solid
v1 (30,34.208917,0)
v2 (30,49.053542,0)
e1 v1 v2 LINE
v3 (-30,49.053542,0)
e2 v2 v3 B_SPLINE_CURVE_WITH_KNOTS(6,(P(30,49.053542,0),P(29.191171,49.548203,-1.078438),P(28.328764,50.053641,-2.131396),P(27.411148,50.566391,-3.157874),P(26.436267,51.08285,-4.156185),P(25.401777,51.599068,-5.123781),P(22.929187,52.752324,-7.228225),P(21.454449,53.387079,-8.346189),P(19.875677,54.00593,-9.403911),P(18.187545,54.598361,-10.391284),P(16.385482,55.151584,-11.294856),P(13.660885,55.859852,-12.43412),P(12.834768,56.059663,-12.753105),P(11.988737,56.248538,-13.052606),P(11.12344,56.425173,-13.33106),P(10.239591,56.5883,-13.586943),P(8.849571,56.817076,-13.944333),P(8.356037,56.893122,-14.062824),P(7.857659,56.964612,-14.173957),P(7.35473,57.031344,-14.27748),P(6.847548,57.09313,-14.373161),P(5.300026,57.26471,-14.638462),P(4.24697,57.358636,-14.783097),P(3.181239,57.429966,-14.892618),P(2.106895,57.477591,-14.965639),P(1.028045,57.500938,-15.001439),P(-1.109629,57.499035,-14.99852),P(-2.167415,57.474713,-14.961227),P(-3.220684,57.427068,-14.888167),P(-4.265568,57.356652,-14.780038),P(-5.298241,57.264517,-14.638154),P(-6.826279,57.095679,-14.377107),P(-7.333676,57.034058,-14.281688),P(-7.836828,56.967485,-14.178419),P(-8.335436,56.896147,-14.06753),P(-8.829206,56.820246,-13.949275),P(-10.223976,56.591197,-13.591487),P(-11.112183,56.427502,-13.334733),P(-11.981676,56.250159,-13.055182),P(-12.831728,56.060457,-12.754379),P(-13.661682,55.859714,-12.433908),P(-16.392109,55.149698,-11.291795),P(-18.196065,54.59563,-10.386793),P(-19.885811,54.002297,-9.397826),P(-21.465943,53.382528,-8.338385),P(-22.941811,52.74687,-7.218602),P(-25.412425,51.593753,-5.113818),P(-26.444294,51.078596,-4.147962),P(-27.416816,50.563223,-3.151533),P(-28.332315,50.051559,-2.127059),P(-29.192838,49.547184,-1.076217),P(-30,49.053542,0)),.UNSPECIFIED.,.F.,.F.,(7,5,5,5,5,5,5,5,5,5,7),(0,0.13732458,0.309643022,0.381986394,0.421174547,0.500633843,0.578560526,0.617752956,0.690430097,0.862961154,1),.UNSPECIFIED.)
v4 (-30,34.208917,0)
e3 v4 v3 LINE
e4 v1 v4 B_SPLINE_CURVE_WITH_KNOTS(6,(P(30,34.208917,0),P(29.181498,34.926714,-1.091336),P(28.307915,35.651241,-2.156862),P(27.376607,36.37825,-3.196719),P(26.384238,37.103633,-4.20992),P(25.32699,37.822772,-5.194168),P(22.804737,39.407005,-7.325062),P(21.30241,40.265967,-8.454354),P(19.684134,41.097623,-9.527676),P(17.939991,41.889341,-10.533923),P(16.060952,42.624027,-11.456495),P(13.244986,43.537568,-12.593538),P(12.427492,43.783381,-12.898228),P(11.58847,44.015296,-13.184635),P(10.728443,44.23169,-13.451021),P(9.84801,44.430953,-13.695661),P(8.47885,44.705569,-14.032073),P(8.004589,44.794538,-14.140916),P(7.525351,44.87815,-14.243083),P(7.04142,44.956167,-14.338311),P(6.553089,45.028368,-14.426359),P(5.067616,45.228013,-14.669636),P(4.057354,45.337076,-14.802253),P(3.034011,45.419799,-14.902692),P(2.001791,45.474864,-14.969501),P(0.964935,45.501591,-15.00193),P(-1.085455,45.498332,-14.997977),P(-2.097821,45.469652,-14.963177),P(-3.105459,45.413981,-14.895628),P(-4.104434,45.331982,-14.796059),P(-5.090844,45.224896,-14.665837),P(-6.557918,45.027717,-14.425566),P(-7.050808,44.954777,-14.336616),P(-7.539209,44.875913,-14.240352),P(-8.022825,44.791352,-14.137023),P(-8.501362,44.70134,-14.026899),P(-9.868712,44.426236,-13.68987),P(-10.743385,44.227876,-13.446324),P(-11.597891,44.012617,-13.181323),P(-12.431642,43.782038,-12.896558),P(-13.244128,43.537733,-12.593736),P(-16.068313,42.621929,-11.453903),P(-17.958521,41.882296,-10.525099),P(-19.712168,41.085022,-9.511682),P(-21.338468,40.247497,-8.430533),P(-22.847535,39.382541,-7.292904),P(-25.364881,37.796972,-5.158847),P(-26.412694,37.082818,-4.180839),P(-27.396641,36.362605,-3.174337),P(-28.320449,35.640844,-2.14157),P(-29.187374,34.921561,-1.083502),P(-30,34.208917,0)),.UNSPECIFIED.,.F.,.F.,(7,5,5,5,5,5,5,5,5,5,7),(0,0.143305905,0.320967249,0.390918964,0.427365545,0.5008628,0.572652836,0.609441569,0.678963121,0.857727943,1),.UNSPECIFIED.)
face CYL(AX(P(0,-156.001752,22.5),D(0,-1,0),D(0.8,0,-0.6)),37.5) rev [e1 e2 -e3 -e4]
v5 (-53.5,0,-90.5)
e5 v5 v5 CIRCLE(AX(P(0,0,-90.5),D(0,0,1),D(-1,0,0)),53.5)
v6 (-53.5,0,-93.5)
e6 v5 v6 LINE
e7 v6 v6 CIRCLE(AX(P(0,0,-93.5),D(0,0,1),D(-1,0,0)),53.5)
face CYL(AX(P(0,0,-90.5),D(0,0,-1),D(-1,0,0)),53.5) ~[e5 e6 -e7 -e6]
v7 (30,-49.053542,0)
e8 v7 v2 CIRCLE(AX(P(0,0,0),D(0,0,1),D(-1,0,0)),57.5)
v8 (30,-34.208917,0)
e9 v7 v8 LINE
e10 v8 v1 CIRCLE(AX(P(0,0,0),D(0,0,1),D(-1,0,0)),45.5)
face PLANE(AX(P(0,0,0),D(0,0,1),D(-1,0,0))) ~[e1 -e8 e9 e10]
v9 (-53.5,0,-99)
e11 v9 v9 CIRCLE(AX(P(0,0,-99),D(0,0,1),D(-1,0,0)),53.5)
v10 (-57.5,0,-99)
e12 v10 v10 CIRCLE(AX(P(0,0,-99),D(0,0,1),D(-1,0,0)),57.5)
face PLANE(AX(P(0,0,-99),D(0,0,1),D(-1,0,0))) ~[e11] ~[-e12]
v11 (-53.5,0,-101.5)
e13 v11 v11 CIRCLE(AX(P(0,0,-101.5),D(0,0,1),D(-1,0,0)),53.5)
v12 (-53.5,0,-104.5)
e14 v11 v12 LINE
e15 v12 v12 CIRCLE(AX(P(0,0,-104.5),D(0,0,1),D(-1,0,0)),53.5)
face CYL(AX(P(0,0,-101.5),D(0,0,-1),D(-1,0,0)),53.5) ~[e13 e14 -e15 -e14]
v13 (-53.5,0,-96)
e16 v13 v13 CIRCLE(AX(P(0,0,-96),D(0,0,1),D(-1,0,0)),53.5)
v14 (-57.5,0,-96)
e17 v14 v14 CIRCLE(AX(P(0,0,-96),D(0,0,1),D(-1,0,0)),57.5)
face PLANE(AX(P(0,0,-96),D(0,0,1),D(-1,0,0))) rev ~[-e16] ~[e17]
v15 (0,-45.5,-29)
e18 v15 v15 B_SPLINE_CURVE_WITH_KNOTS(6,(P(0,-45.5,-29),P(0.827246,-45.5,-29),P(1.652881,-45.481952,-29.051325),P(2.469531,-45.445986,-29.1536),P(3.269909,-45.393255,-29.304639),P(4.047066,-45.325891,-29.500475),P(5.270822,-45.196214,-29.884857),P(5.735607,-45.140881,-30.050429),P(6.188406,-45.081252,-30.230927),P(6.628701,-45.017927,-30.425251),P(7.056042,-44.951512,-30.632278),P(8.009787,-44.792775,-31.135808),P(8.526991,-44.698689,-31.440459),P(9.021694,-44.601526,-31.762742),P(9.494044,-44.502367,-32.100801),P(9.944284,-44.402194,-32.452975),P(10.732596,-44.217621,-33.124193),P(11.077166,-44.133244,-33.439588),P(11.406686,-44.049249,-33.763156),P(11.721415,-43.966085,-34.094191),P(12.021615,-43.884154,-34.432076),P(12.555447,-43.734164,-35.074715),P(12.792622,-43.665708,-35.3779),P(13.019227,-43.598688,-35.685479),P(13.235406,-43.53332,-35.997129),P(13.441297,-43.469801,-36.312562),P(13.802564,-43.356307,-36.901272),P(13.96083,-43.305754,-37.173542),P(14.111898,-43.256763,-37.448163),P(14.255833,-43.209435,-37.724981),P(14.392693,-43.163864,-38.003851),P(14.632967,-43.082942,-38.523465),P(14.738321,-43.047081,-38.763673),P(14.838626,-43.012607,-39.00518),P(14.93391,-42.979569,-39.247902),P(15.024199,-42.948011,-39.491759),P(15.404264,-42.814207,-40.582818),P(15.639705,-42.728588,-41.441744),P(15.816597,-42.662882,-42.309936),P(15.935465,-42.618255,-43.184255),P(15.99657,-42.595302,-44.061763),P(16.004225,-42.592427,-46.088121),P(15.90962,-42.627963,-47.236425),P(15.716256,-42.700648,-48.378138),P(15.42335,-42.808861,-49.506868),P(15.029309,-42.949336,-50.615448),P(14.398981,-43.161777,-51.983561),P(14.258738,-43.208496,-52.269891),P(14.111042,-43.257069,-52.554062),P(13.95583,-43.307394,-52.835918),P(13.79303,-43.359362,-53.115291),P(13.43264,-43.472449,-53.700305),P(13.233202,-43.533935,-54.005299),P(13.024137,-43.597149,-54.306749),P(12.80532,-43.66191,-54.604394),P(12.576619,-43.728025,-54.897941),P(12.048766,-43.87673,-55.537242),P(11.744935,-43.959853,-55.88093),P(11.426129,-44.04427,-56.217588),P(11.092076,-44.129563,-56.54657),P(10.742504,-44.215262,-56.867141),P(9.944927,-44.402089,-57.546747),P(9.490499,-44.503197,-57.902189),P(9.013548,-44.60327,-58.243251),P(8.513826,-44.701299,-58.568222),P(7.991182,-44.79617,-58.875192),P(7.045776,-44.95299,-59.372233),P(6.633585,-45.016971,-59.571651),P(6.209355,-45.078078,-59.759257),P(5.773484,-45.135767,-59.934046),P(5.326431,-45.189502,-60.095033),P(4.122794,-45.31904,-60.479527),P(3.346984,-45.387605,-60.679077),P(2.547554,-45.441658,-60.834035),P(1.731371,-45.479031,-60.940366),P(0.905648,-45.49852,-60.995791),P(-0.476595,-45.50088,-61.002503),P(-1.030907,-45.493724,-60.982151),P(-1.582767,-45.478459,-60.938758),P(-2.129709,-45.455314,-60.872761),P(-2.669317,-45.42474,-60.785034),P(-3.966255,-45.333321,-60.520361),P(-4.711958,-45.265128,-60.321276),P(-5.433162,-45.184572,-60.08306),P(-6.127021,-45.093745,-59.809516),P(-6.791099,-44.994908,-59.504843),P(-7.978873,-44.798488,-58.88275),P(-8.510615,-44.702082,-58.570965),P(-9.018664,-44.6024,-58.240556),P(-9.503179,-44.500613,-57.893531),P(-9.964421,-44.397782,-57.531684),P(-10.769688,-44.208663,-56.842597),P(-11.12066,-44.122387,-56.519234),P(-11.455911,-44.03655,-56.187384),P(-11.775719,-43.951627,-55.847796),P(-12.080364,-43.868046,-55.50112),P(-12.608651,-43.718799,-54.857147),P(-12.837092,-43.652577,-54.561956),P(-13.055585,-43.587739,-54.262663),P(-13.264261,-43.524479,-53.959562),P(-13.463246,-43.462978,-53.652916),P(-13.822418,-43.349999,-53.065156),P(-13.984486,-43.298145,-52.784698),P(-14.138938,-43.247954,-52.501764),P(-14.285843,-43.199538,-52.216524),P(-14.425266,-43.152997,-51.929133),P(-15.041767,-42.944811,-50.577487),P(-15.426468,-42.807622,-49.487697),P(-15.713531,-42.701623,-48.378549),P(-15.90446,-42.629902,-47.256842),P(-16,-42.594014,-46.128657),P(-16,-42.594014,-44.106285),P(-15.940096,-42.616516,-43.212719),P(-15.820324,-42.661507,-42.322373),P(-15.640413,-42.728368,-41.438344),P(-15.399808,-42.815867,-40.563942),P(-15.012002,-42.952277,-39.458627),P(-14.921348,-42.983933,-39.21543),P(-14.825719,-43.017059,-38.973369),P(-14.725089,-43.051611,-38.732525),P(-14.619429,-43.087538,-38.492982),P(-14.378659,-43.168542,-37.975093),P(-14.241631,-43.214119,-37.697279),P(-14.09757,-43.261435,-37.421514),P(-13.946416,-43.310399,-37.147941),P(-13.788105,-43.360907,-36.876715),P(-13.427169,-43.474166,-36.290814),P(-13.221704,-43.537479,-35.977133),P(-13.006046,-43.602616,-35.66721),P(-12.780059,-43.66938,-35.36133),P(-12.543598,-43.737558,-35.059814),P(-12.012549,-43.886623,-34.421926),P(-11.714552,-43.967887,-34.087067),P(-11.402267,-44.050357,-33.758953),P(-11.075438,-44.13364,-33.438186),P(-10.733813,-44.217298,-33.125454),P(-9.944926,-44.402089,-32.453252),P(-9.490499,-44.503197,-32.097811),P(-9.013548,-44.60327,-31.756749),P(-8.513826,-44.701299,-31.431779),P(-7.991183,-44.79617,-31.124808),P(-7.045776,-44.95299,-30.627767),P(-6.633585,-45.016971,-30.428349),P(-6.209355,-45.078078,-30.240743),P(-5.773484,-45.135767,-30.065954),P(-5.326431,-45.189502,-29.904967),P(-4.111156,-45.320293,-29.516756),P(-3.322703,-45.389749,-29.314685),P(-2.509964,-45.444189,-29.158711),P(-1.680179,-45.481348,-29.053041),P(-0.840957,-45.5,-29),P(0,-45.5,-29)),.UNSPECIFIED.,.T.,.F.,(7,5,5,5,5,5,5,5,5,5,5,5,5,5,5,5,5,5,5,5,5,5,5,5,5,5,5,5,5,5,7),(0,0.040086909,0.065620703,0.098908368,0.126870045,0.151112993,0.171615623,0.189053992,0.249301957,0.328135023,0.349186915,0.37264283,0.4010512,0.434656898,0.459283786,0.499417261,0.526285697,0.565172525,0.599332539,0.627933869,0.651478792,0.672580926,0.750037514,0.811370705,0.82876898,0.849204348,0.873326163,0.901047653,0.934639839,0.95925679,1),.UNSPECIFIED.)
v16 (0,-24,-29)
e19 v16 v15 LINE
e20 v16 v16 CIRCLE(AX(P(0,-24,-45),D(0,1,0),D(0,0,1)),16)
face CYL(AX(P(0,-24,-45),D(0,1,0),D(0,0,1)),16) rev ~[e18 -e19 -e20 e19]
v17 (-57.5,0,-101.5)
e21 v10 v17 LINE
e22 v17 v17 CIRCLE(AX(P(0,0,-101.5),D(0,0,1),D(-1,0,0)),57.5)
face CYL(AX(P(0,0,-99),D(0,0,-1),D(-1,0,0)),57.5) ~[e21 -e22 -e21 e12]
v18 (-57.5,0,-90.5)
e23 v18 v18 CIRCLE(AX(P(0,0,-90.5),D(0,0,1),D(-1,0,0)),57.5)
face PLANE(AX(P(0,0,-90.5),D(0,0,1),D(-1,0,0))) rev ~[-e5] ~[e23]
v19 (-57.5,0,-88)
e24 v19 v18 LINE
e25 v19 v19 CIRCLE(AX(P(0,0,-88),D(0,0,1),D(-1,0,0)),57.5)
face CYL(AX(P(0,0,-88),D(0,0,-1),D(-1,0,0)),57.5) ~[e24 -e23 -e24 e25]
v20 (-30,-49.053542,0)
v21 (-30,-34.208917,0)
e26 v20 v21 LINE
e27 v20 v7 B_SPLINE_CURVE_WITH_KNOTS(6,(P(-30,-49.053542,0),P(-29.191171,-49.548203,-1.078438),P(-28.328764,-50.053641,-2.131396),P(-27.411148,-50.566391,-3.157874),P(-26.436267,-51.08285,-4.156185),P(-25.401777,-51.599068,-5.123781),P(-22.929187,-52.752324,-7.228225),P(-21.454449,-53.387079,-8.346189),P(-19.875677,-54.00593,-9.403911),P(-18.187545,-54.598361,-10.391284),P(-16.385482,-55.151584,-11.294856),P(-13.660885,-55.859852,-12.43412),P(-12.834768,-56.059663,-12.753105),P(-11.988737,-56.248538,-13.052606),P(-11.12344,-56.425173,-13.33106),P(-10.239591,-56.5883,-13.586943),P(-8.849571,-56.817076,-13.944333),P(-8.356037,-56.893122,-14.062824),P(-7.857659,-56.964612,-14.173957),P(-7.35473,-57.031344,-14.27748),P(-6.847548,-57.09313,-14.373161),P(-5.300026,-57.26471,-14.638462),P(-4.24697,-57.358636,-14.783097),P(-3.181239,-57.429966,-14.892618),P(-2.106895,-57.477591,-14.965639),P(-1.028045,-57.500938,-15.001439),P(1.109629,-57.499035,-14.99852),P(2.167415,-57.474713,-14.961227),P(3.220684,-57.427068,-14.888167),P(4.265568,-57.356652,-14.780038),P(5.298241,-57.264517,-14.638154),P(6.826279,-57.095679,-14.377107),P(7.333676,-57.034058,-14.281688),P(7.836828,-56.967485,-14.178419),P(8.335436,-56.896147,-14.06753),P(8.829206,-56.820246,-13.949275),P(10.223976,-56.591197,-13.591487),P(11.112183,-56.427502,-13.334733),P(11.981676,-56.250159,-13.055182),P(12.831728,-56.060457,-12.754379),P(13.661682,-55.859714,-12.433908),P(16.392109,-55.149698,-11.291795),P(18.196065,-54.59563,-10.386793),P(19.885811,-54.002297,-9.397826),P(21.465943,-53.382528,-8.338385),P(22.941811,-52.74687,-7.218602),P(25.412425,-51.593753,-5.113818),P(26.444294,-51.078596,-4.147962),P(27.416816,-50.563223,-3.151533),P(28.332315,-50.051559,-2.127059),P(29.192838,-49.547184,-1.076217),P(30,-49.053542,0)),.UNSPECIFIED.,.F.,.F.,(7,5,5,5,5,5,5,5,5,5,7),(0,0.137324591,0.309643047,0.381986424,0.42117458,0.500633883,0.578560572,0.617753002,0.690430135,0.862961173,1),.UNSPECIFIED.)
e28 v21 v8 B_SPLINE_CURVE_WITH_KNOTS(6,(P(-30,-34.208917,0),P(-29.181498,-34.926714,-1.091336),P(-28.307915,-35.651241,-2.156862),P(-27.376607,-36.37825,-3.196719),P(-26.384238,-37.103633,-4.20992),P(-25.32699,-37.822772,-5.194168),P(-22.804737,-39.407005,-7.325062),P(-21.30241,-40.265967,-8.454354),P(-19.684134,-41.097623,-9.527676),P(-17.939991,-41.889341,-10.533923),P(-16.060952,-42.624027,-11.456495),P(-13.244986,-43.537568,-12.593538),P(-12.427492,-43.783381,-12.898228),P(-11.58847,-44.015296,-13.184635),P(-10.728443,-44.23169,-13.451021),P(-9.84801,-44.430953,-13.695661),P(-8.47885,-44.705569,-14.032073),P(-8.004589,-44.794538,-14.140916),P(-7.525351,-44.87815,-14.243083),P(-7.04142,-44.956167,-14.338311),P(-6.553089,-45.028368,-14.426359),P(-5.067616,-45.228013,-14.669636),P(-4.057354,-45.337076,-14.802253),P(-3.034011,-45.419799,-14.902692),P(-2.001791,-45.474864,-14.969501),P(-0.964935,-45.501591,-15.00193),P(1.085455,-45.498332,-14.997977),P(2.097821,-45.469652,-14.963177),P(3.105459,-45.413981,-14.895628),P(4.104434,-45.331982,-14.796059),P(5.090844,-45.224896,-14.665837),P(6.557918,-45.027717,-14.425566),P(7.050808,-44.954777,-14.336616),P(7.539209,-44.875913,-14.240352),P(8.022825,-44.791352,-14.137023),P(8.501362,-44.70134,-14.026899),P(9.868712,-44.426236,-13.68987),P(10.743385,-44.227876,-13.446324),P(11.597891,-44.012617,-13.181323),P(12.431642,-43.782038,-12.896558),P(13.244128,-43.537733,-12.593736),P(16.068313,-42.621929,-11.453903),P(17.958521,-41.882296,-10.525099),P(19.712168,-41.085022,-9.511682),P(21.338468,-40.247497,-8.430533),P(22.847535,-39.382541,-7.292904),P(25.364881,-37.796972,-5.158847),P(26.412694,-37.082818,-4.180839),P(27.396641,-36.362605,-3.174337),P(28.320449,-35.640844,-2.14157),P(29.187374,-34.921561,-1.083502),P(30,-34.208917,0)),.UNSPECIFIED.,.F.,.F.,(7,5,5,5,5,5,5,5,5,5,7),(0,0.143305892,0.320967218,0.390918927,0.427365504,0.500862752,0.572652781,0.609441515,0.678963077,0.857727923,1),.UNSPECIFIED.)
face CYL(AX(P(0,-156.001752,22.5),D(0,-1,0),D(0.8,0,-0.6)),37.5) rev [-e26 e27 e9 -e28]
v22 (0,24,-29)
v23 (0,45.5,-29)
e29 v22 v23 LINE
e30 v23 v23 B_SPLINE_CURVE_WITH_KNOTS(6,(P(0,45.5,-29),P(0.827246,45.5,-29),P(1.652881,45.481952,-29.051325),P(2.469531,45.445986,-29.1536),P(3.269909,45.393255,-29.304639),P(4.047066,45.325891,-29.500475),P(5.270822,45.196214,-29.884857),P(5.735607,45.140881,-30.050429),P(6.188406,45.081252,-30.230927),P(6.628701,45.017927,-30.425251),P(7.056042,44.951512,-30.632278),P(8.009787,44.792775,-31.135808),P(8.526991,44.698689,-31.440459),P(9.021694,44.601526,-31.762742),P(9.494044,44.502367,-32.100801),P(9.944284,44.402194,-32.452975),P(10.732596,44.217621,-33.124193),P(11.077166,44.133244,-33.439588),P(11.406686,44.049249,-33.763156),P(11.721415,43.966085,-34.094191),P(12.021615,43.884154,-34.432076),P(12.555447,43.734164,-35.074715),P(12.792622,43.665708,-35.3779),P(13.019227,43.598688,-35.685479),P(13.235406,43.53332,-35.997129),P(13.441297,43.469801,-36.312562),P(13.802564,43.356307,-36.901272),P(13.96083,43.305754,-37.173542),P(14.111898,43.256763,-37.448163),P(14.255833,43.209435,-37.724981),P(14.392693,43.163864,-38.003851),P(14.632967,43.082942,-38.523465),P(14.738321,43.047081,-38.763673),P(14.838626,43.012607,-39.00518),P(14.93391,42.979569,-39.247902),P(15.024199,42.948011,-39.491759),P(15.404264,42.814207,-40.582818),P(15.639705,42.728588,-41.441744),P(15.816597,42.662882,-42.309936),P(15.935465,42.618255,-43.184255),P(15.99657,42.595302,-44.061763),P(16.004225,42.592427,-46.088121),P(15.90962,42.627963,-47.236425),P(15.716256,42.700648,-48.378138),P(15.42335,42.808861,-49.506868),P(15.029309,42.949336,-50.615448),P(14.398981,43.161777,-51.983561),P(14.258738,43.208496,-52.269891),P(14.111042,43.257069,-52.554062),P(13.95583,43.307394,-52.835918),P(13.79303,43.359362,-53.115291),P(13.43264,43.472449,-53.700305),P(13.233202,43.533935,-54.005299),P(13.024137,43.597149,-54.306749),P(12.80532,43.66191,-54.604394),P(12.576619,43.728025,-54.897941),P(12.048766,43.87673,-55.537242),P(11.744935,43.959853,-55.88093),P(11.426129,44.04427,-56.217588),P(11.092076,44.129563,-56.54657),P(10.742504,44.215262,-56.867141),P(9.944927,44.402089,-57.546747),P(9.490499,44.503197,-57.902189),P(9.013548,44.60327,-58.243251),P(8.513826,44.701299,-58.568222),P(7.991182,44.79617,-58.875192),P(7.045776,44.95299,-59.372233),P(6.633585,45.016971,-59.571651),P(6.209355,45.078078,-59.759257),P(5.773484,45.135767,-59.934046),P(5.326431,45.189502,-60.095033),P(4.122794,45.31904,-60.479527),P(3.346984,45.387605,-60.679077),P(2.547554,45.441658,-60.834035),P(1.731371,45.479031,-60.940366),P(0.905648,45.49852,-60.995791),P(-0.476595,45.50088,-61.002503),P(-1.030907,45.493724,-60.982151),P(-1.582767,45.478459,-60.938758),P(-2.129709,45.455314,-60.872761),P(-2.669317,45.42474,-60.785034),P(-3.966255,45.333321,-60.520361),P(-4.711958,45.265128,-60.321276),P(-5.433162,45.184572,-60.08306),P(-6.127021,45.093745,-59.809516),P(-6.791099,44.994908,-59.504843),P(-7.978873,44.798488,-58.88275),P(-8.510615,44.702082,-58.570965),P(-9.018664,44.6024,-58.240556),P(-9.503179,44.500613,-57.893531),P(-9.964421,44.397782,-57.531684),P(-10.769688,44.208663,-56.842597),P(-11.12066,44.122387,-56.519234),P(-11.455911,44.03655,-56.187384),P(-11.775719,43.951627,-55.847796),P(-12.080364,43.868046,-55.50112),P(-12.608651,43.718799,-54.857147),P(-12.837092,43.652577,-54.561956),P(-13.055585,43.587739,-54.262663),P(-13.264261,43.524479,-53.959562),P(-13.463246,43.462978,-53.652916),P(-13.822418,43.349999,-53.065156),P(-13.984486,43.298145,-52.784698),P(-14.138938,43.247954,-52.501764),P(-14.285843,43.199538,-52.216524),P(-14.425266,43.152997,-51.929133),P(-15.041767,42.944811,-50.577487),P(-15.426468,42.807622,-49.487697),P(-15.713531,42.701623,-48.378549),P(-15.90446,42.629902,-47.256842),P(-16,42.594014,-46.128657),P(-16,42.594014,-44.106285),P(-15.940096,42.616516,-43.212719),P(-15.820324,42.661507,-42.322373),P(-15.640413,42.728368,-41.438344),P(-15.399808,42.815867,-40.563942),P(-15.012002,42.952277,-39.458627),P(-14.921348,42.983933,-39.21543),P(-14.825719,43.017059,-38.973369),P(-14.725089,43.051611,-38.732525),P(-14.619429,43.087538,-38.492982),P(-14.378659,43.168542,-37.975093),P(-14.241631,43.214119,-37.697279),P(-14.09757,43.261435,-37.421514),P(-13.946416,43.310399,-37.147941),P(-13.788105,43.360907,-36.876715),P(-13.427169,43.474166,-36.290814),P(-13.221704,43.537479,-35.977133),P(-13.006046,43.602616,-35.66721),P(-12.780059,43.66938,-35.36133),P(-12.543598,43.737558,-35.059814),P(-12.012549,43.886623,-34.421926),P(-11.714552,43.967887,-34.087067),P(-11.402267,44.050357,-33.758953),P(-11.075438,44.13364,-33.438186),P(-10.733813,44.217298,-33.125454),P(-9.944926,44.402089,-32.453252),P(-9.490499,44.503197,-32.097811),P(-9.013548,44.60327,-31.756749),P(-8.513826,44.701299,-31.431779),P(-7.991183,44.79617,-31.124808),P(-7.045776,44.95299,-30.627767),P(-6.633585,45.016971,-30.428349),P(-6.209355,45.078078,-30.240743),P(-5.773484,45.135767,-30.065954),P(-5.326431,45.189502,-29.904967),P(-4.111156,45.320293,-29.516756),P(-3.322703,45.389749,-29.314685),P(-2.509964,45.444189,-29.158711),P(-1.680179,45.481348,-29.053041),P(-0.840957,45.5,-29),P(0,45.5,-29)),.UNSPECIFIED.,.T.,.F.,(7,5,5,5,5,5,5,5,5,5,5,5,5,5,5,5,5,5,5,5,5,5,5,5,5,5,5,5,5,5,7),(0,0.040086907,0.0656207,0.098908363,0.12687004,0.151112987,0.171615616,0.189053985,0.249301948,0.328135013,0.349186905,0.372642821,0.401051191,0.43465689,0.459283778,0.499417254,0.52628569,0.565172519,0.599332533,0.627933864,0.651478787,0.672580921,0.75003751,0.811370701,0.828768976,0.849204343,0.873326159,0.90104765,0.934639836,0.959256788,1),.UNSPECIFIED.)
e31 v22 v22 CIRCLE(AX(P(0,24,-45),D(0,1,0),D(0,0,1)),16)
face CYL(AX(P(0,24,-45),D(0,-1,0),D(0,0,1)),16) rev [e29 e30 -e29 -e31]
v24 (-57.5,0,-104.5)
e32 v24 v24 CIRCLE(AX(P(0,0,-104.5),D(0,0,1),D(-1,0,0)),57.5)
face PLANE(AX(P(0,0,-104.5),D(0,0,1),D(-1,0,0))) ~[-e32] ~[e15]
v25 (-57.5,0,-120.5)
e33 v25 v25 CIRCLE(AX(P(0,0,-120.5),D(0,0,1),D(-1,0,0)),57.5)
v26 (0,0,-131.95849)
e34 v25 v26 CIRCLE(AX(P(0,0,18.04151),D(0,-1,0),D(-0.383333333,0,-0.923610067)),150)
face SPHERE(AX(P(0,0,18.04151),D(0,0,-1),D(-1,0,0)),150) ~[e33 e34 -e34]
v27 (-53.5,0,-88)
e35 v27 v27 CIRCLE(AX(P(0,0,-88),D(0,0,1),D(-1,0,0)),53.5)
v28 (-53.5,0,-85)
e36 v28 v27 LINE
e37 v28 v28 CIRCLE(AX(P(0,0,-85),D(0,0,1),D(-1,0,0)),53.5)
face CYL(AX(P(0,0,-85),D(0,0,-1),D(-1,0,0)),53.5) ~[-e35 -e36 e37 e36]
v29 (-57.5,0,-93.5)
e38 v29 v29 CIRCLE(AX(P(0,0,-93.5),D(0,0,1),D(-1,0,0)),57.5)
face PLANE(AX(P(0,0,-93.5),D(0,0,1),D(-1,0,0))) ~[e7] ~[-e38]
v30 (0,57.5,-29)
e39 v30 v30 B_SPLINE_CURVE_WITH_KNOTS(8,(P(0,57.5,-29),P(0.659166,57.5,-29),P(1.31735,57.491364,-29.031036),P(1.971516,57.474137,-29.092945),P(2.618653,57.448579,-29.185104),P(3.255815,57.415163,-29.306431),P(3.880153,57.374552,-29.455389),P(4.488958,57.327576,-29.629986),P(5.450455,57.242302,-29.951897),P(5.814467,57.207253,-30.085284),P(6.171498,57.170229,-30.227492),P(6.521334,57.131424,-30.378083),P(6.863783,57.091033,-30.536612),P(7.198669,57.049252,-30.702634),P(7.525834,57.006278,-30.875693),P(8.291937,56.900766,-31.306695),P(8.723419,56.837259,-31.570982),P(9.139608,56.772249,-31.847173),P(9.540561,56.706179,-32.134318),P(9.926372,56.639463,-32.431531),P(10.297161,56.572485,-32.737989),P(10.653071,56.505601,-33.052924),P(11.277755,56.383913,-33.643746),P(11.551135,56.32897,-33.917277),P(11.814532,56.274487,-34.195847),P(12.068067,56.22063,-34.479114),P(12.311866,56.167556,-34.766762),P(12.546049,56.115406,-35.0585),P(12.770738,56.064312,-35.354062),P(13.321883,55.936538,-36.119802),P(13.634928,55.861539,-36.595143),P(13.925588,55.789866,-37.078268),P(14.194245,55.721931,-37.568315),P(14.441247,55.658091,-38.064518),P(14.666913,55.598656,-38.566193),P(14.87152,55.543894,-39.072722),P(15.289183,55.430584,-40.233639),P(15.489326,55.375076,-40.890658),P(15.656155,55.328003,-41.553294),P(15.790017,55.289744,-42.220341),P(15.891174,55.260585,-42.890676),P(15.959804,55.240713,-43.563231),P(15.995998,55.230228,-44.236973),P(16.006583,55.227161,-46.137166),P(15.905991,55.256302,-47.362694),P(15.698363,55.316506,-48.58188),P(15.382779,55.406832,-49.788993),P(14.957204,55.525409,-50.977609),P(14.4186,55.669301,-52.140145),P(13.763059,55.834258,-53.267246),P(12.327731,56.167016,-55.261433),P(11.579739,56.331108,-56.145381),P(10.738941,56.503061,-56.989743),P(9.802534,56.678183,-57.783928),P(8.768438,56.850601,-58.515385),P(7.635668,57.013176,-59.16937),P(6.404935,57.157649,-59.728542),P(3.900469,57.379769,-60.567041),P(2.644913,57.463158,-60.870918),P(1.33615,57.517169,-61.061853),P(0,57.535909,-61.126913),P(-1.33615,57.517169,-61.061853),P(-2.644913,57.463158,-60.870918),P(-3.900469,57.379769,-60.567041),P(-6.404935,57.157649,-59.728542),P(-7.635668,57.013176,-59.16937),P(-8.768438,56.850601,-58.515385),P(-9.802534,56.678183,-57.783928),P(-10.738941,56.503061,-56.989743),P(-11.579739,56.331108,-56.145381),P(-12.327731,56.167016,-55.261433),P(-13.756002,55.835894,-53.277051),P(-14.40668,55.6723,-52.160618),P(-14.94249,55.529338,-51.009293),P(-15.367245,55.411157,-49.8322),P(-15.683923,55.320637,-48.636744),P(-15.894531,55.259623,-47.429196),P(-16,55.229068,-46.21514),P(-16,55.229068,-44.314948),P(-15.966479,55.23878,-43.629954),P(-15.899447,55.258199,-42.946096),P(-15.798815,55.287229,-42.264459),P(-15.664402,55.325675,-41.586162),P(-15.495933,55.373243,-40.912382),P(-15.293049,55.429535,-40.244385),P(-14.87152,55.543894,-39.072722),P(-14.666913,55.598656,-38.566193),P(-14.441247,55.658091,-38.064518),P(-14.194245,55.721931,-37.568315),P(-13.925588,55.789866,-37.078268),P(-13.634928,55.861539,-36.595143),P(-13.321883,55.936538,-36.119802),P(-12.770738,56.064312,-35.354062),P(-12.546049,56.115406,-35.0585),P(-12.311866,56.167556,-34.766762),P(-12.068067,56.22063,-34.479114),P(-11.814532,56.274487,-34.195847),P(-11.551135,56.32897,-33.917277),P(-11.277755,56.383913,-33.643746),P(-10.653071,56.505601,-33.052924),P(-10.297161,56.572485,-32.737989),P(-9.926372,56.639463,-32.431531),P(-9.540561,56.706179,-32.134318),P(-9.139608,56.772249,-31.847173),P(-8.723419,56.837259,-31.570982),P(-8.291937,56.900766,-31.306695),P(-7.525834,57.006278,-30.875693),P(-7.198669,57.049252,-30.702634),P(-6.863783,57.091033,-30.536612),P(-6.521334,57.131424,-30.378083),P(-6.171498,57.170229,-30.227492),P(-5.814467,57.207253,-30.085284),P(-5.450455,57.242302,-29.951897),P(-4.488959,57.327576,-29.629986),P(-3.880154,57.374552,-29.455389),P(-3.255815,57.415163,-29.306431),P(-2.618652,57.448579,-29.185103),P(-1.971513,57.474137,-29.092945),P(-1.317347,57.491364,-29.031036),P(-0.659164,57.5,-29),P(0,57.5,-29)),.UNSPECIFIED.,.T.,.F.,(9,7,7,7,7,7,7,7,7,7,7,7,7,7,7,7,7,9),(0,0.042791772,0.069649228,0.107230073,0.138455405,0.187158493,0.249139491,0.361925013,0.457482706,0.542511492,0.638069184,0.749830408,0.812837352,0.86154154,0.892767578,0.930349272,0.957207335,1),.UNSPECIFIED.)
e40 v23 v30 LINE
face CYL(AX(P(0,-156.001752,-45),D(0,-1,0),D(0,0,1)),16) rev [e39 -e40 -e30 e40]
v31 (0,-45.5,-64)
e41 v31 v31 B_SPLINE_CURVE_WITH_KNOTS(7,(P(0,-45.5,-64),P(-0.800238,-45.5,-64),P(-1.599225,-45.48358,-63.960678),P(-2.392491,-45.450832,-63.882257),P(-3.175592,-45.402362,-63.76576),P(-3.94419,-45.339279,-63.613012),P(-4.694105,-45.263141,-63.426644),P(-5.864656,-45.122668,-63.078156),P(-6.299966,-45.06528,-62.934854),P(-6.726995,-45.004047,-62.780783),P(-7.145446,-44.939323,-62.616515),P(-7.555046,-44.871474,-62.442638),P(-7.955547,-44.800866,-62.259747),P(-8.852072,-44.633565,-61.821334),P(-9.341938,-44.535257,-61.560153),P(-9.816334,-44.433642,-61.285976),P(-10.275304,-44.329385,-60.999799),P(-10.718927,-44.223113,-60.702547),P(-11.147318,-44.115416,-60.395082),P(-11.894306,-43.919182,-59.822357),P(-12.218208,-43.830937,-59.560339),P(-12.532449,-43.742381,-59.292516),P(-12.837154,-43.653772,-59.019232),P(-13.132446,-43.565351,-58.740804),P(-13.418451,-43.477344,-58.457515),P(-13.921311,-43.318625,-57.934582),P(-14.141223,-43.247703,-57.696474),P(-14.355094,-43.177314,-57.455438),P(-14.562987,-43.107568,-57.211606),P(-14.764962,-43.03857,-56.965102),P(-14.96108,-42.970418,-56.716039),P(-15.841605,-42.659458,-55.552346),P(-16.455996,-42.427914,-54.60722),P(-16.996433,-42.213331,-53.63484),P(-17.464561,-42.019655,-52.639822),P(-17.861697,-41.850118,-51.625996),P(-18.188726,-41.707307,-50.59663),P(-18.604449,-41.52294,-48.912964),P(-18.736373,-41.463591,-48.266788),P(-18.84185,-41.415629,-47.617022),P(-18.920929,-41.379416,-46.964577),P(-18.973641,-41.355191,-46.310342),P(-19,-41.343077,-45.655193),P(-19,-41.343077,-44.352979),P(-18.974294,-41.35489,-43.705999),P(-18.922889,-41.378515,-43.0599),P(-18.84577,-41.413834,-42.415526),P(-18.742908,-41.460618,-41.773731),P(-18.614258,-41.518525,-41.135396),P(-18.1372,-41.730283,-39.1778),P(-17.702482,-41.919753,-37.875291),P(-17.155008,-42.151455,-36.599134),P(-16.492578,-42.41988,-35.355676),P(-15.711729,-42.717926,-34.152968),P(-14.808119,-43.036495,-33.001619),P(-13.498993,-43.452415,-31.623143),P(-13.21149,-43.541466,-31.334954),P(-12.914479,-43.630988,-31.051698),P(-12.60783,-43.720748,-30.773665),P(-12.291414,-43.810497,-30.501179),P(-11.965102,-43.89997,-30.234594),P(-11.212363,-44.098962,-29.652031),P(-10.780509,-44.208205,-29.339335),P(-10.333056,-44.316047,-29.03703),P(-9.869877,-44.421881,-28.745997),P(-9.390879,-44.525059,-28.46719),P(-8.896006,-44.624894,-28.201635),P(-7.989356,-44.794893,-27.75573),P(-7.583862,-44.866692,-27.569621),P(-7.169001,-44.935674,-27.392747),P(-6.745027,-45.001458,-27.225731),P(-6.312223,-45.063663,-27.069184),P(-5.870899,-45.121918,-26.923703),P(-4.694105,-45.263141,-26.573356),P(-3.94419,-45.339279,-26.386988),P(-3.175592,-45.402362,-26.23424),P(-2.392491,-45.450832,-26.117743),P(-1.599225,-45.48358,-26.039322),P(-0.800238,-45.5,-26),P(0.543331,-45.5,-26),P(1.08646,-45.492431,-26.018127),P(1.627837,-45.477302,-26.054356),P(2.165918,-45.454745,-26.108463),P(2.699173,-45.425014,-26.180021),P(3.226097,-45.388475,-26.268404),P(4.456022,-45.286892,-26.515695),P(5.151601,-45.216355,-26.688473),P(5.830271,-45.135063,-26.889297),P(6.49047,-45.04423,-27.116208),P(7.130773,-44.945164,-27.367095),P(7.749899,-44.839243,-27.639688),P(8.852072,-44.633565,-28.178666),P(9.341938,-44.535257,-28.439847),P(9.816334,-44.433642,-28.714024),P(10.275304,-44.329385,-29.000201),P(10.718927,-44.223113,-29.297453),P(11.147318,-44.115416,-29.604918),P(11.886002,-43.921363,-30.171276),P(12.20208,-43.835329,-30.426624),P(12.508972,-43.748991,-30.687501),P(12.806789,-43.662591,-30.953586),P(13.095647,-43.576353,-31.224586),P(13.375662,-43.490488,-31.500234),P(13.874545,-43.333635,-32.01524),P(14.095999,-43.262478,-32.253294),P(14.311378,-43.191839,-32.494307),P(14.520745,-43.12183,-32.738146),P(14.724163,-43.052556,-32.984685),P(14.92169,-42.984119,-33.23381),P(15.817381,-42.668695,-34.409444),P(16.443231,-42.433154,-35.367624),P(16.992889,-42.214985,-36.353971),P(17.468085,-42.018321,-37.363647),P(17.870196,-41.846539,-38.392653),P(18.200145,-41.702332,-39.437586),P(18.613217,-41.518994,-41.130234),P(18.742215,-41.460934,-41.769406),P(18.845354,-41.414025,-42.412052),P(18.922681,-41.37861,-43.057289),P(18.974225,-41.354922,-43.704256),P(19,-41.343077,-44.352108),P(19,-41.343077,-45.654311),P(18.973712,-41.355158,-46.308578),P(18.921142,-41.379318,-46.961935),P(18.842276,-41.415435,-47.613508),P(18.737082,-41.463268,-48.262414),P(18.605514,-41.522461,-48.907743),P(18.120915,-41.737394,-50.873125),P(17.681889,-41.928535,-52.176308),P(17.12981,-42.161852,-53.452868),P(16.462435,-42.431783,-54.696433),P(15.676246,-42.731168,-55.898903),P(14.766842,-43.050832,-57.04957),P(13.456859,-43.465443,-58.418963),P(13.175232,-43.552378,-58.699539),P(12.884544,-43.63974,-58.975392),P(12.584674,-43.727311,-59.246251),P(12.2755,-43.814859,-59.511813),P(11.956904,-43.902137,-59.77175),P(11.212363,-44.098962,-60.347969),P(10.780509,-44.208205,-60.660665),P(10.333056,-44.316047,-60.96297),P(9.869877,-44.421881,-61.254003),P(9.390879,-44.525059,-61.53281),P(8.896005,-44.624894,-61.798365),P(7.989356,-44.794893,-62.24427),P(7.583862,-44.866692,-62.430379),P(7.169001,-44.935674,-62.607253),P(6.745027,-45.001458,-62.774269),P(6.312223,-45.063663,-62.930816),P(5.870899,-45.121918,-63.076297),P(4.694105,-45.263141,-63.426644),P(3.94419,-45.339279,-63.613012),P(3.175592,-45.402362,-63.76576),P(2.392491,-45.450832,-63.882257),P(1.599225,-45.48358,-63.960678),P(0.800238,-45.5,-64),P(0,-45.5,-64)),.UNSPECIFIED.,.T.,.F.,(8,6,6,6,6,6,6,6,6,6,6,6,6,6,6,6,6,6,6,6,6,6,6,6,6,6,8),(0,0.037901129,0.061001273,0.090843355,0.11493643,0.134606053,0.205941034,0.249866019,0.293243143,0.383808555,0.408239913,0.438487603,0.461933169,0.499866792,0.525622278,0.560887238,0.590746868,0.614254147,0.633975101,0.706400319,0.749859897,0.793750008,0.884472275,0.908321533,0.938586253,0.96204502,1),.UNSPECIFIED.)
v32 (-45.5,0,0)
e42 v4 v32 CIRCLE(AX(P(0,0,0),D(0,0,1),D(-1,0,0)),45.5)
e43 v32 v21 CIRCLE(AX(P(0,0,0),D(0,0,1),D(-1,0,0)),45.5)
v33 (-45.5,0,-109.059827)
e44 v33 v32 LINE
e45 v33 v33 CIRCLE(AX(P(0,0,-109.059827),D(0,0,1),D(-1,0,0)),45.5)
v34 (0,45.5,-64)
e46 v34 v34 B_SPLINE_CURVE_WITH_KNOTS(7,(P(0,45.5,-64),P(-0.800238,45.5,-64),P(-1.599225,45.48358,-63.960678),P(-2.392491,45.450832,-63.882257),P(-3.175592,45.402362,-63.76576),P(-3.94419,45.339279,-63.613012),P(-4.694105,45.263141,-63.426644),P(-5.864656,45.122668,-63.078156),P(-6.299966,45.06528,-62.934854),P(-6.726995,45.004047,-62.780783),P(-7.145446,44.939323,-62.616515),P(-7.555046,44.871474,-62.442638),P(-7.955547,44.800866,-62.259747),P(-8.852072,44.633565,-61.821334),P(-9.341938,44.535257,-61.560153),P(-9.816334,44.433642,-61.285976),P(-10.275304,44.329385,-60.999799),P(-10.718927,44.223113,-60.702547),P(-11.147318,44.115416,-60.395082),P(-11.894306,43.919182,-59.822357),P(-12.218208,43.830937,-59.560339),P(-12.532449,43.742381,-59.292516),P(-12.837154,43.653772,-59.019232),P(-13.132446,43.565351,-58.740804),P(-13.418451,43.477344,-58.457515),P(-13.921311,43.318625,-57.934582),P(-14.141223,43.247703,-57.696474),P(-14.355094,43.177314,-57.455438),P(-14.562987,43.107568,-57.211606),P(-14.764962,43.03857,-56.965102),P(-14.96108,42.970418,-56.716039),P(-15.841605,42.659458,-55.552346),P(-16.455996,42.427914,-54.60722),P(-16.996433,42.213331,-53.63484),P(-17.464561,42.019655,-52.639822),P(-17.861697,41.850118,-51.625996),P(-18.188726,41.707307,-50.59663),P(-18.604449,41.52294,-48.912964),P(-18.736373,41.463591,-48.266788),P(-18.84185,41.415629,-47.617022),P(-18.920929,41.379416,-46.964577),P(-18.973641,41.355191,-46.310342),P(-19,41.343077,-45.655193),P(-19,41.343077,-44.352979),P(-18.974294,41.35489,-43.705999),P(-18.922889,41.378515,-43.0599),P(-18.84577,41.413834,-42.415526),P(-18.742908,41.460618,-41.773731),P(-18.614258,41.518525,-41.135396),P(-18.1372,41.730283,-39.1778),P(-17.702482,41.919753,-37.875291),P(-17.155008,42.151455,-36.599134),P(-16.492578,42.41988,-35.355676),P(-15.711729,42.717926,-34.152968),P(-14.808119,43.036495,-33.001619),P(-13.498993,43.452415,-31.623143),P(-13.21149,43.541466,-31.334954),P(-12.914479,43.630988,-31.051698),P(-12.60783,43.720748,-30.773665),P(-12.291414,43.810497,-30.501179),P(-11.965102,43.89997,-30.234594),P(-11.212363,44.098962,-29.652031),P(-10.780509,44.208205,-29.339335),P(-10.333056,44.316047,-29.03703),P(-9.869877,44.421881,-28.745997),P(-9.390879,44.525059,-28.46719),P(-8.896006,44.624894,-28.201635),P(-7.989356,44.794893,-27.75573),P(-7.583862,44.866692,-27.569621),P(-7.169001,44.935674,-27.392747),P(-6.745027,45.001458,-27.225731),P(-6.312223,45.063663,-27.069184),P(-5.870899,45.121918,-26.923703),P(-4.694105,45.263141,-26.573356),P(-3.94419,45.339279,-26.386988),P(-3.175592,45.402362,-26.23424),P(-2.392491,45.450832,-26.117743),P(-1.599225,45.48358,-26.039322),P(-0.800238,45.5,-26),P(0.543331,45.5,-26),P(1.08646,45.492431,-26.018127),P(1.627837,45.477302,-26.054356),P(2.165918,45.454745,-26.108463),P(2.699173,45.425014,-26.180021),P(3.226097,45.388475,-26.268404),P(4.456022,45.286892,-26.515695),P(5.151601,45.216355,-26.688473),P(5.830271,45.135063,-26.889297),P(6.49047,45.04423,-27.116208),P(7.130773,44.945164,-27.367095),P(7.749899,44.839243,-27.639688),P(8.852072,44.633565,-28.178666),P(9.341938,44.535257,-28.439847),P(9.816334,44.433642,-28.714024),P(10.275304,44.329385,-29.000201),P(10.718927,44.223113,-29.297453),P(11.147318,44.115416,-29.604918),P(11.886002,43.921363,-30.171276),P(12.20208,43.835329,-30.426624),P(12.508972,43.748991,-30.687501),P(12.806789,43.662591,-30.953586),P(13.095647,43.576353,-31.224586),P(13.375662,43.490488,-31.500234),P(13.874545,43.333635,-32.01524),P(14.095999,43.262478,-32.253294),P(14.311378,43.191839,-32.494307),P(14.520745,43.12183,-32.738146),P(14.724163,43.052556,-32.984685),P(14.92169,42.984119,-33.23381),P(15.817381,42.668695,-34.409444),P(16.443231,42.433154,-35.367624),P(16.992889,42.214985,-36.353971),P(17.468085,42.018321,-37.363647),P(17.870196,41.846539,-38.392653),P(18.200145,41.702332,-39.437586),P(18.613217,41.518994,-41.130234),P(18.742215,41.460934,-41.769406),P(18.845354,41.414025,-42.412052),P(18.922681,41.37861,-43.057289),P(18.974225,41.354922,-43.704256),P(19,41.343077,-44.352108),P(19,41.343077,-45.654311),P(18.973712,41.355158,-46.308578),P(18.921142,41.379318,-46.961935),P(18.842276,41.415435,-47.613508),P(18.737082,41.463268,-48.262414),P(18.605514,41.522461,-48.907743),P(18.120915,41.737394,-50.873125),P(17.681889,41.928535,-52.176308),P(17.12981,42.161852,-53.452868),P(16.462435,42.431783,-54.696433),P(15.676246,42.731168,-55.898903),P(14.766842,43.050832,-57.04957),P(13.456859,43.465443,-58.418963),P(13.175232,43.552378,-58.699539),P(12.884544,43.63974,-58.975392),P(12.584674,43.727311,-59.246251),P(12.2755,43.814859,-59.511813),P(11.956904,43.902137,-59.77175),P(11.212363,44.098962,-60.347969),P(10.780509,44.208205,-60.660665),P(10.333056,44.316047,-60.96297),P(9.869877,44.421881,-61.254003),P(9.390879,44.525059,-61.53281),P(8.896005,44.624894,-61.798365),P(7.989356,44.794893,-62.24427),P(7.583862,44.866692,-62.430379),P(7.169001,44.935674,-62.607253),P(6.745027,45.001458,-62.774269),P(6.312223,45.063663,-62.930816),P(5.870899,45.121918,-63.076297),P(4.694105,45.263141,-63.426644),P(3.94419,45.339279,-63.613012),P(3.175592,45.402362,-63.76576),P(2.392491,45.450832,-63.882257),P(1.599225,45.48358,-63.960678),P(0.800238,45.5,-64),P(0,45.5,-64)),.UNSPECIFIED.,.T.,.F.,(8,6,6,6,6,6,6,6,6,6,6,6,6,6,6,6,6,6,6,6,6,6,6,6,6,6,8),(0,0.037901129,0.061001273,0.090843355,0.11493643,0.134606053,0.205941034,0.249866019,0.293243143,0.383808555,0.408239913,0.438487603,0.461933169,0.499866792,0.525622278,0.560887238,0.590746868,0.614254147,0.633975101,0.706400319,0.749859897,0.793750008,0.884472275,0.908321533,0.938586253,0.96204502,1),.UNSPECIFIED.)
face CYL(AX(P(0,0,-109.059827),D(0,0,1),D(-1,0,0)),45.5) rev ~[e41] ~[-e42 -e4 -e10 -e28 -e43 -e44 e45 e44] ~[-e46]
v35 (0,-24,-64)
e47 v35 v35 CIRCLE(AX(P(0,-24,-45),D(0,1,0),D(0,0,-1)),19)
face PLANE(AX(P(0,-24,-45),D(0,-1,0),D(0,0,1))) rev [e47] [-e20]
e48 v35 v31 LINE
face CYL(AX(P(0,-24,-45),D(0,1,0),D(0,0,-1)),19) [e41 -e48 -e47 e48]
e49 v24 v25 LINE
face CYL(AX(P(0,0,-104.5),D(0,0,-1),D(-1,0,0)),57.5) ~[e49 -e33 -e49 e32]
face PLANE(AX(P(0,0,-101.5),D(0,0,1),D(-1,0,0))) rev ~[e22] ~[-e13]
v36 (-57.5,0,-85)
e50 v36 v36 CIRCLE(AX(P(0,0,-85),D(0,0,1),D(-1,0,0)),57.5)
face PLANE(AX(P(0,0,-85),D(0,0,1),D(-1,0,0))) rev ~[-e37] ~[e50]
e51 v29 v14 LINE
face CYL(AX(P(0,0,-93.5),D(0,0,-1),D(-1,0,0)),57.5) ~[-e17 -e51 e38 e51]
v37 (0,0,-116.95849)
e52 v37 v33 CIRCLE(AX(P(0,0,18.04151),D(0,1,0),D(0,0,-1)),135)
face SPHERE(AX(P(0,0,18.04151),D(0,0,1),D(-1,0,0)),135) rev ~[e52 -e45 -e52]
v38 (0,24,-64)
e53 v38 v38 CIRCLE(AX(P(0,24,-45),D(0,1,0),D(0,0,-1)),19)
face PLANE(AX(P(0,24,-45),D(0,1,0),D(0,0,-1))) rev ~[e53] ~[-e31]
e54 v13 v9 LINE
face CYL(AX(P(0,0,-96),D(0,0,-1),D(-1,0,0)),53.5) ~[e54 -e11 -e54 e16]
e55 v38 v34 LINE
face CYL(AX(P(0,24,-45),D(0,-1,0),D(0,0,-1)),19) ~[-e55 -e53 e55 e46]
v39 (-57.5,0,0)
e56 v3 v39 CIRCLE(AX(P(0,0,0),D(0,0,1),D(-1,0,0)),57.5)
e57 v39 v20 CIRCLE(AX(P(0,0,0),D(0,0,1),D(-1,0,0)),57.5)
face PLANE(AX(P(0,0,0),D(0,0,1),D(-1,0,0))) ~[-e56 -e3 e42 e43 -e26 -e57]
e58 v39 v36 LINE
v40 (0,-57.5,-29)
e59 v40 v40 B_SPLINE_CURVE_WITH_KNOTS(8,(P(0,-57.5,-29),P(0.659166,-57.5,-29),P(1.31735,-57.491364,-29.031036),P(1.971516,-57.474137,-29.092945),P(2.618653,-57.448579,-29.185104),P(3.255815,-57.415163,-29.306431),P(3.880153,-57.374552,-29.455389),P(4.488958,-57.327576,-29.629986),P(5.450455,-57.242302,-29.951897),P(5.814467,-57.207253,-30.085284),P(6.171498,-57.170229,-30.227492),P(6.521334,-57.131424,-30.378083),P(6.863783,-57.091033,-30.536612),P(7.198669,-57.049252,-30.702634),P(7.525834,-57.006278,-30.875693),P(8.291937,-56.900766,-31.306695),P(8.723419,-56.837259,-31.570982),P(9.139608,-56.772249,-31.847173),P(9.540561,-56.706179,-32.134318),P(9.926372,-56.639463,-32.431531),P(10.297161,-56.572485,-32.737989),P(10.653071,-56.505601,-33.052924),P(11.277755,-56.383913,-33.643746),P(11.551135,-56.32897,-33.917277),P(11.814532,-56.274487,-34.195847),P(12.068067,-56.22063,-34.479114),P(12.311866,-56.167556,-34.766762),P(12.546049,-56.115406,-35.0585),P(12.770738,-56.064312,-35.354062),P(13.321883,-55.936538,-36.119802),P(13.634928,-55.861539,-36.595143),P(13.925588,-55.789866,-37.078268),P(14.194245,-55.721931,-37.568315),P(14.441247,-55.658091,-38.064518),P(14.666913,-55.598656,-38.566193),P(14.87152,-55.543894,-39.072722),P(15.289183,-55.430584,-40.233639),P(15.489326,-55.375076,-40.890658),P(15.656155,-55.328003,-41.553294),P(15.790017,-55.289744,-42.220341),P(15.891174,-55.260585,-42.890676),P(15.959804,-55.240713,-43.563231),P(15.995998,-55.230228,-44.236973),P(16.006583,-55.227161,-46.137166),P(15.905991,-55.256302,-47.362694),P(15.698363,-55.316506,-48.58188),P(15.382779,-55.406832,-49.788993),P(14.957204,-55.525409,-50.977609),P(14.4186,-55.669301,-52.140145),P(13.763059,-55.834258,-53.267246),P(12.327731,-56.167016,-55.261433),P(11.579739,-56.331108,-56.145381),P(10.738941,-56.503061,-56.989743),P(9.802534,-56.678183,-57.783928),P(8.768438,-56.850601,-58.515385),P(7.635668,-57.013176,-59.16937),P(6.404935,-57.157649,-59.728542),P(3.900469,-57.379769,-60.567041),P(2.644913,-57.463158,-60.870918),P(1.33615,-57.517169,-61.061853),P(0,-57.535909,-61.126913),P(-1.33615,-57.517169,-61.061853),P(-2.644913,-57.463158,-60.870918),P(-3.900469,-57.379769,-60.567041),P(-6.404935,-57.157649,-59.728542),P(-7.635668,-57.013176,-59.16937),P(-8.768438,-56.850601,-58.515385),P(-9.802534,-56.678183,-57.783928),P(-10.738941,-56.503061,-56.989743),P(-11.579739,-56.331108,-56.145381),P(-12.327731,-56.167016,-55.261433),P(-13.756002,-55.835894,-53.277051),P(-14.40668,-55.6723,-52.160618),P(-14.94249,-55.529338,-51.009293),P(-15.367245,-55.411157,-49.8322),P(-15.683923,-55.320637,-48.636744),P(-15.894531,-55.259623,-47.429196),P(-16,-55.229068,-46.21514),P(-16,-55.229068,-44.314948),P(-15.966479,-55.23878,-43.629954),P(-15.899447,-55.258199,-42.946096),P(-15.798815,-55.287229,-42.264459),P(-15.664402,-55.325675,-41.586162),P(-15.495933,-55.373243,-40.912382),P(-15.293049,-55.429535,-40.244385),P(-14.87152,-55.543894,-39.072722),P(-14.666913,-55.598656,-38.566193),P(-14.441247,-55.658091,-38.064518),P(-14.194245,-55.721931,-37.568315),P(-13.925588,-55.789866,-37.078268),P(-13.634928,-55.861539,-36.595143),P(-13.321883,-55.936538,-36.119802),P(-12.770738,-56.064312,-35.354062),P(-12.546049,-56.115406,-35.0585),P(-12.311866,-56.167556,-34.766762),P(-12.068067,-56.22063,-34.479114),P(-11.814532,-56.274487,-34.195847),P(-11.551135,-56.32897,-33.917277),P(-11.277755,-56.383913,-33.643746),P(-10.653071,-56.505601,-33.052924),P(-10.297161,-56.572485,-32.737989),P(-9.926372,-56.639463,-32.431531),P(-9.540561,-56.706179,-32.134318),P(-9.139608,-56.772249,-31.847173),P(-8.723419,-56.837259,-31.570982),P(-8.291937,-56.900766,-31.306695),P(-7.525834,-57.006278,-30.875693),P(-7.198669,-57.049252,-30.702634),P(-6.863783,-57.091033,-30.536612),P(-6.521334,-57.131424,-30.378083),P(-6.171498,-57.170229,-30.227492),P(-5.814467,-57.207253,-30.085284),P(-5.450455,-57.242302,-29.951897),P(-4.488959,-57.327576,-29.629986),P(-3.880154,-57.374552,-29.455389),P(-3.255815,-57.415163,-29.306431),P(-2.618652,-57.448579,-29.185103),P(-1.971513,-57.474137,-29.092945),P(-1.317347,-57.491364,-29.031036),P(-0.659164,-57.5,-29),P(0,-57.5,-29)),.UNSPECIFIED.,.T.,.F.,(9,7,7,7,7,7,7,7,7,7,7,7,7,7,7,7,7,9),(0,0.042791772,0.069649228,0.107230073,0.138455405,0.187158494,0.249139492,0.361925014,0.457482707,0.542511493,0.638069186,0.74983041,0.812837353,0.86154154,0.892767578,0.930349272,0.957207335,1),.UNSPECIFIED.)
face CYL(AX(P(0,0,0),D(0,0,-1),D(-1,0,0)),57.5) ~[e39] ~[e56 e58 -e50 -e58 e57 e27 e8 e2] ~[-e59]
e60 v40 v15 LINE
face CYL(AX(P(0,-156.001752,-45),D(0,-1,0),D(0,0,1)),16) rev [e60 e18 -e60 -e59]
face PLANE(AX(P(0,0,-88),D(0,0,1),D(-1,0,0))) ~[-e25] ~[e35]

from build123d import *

# Parameters (mm, degrees)
CUT_EXTRUDE1_DEPTH       = 156.00175185
CUT_EXTRUDE1_DEPTH_BACK  = 156.00175185
SKETCH2_R                = 16
BOSS_EXTRUDE1_REACH      = 167.413
BOSS_EXTRUDE1_END_RADIUS = 45.5
SKETCH4_R                = 19
SKETCH4_R_2              = 16
CUT_EXTRUDE2_DEPTH       = 156.001751924
CUT_EXTRUDE2_DEPTH_BACK  = 156.001751924


with BuildPart() as part:
    # Sketch1 → Revolve1 (revolve)
    with BuildSketch(Plane(origin=(0, 0, 0), x_dir=(1, 0, 0), z_dir=(0, 1, 0)), mode=Mode.PRIVATE) as revolve1_sk:
        with BuildLine():
            Line((0, 131.958489975), (0, 116.958489975))
            ThreePointArc((0, 116.958489975), (23.090251563, 114.969167301), (45.5, 109.059827497))
            Line((45.5, 109.059827497), (45.5, 0))
            Line((45.5, 0), (57.5, 0))
            Line((57.5, 0), (57.5, 85))
            Line((57.5, 85), (53.5, 85))
            Line((53.5, 85), (53.5, 88))
            Line((53.5, 88), (57.5, 88))
            Line((57.5, 88), (57.5, 90.5))
            Line((57.5, 90.5), (53.5, 90.5))
            Line((53.5, 90.5), (53.5, 93.5))
            Line((53.5, 93.5), (57.5, 93.5))
            Line((57.5, 93.5), (57.5, 96))
            Line((57.5, 96), (53.5, 96))
            Line((53.5, 96), (53.5, 99))
            Line((53.5, 99), (57.5, 99))
            Line((57.5, 99), (57.5, 101.5))
            Line((57.5, 101.5), (53.5, 101.5))
            Line((53.5, 101.5), (53.5, 104.5))
            Line((53.5, 104.5), (57.5, 104.5))
            Line((57.5, 104.5), (57.5, 120.5))
            ThreePointArc((57.5, 120.5), (29.315298875, 129.065978744), (0, 131.958489975))
        make_face()
    revolve(revolve1_sk.sketch.rotate(Axis((0, 0, -138.64598988), (0, 0, 1)), 180), axis=Axis((0, 0, -138.64598988), (0, 0, 1)))

    # Sketch2 → Cut-Extrude1 (cut, two sides: drawn at the far end of the back side and taken through both)
    with BuildSketch(Plane(origin=(0, 0, 0), x_dir=(1, 0, 0), z_dir=(0, 1, 0)).offset(-CUT_EXTRUDE1_DEPTH_BACK)):
        with Locations(Location((0, 45, 0), (0, 0, 270))):
            Circle(SKETCH2_R)
    extrude(amount=CUT_EXTRUDE1_DEPTH + CUT_EXTRUDE1_DEPTH_BACK, mode=Mode.SUBTRACT)

    # Boss-Extrude1: up to this cylinder (the profile starts inside it)
    boss_extrude1_end = Plane(origin=(0, 0, -26.537401), z_dir=(0, 0, -1)) * Cylinder(BOSS_EXTRUDE1_END_RADIUS, 426.826, mode=Mode.PRIVATE)
    # Sketch4 → Boss-Extrude1 (add, up to the surface)
    with BuildSketch(Plane(origin=(0, 24, 0), x_dir=(1, 0, 0), z_dir=(0, 1, 0)), mode=Mode.PRIVATE) as boss_extrude1_sk1:
        with Locations(Location((0, 45, 0), (0, 0, 90))):
            Circle(SKETCH4_R)
        with Locations(Location((0, 45, 0), (0, 0, 270))):
            Circle(SKETCH4_R_2, mode=Mode.SUBTRACT)
    boss_extrude1_tool1 = extrude(boss_extrude1_sk1.sketch, amount=BOSS_EXTRUDE1_REACH, mode=Mode.PRIVATE) & boss_extrude1_end
    boss_extrude1 = boss_extrude1_tool1.solids().sort_by_distance((0, 24, -26.537401))[0]
    add(boss_extrude1)

    # Mirror1: Boss-Extrude1 across plane
    add(boss_extrude1.mirror(Plane.ZX))

    # Sketch5 → Cut-Extrude2 (cut, two sides: drawn at the far end of the back side and taken through both)
    with BuildSketch(Plane(origin=(0, 0, 0), x_dir=(1, 0, 0), z_dir=(0, 1, 0)).offset(-CUT_EXTRUDE2_DEPTH_BACK)):
        with BuildLine():
            Line((-30, 0), (30, 0))
            ThreePointArc((30, 0), (0, 15), (-30, 0))
        make_face()
    extrude(amount=CUT_EXTRUDE2_DEPTH + CUT_EXTRUDE2_DEPTH_BACK, mode=Mode.SUBTRACT)


solid = part.part
